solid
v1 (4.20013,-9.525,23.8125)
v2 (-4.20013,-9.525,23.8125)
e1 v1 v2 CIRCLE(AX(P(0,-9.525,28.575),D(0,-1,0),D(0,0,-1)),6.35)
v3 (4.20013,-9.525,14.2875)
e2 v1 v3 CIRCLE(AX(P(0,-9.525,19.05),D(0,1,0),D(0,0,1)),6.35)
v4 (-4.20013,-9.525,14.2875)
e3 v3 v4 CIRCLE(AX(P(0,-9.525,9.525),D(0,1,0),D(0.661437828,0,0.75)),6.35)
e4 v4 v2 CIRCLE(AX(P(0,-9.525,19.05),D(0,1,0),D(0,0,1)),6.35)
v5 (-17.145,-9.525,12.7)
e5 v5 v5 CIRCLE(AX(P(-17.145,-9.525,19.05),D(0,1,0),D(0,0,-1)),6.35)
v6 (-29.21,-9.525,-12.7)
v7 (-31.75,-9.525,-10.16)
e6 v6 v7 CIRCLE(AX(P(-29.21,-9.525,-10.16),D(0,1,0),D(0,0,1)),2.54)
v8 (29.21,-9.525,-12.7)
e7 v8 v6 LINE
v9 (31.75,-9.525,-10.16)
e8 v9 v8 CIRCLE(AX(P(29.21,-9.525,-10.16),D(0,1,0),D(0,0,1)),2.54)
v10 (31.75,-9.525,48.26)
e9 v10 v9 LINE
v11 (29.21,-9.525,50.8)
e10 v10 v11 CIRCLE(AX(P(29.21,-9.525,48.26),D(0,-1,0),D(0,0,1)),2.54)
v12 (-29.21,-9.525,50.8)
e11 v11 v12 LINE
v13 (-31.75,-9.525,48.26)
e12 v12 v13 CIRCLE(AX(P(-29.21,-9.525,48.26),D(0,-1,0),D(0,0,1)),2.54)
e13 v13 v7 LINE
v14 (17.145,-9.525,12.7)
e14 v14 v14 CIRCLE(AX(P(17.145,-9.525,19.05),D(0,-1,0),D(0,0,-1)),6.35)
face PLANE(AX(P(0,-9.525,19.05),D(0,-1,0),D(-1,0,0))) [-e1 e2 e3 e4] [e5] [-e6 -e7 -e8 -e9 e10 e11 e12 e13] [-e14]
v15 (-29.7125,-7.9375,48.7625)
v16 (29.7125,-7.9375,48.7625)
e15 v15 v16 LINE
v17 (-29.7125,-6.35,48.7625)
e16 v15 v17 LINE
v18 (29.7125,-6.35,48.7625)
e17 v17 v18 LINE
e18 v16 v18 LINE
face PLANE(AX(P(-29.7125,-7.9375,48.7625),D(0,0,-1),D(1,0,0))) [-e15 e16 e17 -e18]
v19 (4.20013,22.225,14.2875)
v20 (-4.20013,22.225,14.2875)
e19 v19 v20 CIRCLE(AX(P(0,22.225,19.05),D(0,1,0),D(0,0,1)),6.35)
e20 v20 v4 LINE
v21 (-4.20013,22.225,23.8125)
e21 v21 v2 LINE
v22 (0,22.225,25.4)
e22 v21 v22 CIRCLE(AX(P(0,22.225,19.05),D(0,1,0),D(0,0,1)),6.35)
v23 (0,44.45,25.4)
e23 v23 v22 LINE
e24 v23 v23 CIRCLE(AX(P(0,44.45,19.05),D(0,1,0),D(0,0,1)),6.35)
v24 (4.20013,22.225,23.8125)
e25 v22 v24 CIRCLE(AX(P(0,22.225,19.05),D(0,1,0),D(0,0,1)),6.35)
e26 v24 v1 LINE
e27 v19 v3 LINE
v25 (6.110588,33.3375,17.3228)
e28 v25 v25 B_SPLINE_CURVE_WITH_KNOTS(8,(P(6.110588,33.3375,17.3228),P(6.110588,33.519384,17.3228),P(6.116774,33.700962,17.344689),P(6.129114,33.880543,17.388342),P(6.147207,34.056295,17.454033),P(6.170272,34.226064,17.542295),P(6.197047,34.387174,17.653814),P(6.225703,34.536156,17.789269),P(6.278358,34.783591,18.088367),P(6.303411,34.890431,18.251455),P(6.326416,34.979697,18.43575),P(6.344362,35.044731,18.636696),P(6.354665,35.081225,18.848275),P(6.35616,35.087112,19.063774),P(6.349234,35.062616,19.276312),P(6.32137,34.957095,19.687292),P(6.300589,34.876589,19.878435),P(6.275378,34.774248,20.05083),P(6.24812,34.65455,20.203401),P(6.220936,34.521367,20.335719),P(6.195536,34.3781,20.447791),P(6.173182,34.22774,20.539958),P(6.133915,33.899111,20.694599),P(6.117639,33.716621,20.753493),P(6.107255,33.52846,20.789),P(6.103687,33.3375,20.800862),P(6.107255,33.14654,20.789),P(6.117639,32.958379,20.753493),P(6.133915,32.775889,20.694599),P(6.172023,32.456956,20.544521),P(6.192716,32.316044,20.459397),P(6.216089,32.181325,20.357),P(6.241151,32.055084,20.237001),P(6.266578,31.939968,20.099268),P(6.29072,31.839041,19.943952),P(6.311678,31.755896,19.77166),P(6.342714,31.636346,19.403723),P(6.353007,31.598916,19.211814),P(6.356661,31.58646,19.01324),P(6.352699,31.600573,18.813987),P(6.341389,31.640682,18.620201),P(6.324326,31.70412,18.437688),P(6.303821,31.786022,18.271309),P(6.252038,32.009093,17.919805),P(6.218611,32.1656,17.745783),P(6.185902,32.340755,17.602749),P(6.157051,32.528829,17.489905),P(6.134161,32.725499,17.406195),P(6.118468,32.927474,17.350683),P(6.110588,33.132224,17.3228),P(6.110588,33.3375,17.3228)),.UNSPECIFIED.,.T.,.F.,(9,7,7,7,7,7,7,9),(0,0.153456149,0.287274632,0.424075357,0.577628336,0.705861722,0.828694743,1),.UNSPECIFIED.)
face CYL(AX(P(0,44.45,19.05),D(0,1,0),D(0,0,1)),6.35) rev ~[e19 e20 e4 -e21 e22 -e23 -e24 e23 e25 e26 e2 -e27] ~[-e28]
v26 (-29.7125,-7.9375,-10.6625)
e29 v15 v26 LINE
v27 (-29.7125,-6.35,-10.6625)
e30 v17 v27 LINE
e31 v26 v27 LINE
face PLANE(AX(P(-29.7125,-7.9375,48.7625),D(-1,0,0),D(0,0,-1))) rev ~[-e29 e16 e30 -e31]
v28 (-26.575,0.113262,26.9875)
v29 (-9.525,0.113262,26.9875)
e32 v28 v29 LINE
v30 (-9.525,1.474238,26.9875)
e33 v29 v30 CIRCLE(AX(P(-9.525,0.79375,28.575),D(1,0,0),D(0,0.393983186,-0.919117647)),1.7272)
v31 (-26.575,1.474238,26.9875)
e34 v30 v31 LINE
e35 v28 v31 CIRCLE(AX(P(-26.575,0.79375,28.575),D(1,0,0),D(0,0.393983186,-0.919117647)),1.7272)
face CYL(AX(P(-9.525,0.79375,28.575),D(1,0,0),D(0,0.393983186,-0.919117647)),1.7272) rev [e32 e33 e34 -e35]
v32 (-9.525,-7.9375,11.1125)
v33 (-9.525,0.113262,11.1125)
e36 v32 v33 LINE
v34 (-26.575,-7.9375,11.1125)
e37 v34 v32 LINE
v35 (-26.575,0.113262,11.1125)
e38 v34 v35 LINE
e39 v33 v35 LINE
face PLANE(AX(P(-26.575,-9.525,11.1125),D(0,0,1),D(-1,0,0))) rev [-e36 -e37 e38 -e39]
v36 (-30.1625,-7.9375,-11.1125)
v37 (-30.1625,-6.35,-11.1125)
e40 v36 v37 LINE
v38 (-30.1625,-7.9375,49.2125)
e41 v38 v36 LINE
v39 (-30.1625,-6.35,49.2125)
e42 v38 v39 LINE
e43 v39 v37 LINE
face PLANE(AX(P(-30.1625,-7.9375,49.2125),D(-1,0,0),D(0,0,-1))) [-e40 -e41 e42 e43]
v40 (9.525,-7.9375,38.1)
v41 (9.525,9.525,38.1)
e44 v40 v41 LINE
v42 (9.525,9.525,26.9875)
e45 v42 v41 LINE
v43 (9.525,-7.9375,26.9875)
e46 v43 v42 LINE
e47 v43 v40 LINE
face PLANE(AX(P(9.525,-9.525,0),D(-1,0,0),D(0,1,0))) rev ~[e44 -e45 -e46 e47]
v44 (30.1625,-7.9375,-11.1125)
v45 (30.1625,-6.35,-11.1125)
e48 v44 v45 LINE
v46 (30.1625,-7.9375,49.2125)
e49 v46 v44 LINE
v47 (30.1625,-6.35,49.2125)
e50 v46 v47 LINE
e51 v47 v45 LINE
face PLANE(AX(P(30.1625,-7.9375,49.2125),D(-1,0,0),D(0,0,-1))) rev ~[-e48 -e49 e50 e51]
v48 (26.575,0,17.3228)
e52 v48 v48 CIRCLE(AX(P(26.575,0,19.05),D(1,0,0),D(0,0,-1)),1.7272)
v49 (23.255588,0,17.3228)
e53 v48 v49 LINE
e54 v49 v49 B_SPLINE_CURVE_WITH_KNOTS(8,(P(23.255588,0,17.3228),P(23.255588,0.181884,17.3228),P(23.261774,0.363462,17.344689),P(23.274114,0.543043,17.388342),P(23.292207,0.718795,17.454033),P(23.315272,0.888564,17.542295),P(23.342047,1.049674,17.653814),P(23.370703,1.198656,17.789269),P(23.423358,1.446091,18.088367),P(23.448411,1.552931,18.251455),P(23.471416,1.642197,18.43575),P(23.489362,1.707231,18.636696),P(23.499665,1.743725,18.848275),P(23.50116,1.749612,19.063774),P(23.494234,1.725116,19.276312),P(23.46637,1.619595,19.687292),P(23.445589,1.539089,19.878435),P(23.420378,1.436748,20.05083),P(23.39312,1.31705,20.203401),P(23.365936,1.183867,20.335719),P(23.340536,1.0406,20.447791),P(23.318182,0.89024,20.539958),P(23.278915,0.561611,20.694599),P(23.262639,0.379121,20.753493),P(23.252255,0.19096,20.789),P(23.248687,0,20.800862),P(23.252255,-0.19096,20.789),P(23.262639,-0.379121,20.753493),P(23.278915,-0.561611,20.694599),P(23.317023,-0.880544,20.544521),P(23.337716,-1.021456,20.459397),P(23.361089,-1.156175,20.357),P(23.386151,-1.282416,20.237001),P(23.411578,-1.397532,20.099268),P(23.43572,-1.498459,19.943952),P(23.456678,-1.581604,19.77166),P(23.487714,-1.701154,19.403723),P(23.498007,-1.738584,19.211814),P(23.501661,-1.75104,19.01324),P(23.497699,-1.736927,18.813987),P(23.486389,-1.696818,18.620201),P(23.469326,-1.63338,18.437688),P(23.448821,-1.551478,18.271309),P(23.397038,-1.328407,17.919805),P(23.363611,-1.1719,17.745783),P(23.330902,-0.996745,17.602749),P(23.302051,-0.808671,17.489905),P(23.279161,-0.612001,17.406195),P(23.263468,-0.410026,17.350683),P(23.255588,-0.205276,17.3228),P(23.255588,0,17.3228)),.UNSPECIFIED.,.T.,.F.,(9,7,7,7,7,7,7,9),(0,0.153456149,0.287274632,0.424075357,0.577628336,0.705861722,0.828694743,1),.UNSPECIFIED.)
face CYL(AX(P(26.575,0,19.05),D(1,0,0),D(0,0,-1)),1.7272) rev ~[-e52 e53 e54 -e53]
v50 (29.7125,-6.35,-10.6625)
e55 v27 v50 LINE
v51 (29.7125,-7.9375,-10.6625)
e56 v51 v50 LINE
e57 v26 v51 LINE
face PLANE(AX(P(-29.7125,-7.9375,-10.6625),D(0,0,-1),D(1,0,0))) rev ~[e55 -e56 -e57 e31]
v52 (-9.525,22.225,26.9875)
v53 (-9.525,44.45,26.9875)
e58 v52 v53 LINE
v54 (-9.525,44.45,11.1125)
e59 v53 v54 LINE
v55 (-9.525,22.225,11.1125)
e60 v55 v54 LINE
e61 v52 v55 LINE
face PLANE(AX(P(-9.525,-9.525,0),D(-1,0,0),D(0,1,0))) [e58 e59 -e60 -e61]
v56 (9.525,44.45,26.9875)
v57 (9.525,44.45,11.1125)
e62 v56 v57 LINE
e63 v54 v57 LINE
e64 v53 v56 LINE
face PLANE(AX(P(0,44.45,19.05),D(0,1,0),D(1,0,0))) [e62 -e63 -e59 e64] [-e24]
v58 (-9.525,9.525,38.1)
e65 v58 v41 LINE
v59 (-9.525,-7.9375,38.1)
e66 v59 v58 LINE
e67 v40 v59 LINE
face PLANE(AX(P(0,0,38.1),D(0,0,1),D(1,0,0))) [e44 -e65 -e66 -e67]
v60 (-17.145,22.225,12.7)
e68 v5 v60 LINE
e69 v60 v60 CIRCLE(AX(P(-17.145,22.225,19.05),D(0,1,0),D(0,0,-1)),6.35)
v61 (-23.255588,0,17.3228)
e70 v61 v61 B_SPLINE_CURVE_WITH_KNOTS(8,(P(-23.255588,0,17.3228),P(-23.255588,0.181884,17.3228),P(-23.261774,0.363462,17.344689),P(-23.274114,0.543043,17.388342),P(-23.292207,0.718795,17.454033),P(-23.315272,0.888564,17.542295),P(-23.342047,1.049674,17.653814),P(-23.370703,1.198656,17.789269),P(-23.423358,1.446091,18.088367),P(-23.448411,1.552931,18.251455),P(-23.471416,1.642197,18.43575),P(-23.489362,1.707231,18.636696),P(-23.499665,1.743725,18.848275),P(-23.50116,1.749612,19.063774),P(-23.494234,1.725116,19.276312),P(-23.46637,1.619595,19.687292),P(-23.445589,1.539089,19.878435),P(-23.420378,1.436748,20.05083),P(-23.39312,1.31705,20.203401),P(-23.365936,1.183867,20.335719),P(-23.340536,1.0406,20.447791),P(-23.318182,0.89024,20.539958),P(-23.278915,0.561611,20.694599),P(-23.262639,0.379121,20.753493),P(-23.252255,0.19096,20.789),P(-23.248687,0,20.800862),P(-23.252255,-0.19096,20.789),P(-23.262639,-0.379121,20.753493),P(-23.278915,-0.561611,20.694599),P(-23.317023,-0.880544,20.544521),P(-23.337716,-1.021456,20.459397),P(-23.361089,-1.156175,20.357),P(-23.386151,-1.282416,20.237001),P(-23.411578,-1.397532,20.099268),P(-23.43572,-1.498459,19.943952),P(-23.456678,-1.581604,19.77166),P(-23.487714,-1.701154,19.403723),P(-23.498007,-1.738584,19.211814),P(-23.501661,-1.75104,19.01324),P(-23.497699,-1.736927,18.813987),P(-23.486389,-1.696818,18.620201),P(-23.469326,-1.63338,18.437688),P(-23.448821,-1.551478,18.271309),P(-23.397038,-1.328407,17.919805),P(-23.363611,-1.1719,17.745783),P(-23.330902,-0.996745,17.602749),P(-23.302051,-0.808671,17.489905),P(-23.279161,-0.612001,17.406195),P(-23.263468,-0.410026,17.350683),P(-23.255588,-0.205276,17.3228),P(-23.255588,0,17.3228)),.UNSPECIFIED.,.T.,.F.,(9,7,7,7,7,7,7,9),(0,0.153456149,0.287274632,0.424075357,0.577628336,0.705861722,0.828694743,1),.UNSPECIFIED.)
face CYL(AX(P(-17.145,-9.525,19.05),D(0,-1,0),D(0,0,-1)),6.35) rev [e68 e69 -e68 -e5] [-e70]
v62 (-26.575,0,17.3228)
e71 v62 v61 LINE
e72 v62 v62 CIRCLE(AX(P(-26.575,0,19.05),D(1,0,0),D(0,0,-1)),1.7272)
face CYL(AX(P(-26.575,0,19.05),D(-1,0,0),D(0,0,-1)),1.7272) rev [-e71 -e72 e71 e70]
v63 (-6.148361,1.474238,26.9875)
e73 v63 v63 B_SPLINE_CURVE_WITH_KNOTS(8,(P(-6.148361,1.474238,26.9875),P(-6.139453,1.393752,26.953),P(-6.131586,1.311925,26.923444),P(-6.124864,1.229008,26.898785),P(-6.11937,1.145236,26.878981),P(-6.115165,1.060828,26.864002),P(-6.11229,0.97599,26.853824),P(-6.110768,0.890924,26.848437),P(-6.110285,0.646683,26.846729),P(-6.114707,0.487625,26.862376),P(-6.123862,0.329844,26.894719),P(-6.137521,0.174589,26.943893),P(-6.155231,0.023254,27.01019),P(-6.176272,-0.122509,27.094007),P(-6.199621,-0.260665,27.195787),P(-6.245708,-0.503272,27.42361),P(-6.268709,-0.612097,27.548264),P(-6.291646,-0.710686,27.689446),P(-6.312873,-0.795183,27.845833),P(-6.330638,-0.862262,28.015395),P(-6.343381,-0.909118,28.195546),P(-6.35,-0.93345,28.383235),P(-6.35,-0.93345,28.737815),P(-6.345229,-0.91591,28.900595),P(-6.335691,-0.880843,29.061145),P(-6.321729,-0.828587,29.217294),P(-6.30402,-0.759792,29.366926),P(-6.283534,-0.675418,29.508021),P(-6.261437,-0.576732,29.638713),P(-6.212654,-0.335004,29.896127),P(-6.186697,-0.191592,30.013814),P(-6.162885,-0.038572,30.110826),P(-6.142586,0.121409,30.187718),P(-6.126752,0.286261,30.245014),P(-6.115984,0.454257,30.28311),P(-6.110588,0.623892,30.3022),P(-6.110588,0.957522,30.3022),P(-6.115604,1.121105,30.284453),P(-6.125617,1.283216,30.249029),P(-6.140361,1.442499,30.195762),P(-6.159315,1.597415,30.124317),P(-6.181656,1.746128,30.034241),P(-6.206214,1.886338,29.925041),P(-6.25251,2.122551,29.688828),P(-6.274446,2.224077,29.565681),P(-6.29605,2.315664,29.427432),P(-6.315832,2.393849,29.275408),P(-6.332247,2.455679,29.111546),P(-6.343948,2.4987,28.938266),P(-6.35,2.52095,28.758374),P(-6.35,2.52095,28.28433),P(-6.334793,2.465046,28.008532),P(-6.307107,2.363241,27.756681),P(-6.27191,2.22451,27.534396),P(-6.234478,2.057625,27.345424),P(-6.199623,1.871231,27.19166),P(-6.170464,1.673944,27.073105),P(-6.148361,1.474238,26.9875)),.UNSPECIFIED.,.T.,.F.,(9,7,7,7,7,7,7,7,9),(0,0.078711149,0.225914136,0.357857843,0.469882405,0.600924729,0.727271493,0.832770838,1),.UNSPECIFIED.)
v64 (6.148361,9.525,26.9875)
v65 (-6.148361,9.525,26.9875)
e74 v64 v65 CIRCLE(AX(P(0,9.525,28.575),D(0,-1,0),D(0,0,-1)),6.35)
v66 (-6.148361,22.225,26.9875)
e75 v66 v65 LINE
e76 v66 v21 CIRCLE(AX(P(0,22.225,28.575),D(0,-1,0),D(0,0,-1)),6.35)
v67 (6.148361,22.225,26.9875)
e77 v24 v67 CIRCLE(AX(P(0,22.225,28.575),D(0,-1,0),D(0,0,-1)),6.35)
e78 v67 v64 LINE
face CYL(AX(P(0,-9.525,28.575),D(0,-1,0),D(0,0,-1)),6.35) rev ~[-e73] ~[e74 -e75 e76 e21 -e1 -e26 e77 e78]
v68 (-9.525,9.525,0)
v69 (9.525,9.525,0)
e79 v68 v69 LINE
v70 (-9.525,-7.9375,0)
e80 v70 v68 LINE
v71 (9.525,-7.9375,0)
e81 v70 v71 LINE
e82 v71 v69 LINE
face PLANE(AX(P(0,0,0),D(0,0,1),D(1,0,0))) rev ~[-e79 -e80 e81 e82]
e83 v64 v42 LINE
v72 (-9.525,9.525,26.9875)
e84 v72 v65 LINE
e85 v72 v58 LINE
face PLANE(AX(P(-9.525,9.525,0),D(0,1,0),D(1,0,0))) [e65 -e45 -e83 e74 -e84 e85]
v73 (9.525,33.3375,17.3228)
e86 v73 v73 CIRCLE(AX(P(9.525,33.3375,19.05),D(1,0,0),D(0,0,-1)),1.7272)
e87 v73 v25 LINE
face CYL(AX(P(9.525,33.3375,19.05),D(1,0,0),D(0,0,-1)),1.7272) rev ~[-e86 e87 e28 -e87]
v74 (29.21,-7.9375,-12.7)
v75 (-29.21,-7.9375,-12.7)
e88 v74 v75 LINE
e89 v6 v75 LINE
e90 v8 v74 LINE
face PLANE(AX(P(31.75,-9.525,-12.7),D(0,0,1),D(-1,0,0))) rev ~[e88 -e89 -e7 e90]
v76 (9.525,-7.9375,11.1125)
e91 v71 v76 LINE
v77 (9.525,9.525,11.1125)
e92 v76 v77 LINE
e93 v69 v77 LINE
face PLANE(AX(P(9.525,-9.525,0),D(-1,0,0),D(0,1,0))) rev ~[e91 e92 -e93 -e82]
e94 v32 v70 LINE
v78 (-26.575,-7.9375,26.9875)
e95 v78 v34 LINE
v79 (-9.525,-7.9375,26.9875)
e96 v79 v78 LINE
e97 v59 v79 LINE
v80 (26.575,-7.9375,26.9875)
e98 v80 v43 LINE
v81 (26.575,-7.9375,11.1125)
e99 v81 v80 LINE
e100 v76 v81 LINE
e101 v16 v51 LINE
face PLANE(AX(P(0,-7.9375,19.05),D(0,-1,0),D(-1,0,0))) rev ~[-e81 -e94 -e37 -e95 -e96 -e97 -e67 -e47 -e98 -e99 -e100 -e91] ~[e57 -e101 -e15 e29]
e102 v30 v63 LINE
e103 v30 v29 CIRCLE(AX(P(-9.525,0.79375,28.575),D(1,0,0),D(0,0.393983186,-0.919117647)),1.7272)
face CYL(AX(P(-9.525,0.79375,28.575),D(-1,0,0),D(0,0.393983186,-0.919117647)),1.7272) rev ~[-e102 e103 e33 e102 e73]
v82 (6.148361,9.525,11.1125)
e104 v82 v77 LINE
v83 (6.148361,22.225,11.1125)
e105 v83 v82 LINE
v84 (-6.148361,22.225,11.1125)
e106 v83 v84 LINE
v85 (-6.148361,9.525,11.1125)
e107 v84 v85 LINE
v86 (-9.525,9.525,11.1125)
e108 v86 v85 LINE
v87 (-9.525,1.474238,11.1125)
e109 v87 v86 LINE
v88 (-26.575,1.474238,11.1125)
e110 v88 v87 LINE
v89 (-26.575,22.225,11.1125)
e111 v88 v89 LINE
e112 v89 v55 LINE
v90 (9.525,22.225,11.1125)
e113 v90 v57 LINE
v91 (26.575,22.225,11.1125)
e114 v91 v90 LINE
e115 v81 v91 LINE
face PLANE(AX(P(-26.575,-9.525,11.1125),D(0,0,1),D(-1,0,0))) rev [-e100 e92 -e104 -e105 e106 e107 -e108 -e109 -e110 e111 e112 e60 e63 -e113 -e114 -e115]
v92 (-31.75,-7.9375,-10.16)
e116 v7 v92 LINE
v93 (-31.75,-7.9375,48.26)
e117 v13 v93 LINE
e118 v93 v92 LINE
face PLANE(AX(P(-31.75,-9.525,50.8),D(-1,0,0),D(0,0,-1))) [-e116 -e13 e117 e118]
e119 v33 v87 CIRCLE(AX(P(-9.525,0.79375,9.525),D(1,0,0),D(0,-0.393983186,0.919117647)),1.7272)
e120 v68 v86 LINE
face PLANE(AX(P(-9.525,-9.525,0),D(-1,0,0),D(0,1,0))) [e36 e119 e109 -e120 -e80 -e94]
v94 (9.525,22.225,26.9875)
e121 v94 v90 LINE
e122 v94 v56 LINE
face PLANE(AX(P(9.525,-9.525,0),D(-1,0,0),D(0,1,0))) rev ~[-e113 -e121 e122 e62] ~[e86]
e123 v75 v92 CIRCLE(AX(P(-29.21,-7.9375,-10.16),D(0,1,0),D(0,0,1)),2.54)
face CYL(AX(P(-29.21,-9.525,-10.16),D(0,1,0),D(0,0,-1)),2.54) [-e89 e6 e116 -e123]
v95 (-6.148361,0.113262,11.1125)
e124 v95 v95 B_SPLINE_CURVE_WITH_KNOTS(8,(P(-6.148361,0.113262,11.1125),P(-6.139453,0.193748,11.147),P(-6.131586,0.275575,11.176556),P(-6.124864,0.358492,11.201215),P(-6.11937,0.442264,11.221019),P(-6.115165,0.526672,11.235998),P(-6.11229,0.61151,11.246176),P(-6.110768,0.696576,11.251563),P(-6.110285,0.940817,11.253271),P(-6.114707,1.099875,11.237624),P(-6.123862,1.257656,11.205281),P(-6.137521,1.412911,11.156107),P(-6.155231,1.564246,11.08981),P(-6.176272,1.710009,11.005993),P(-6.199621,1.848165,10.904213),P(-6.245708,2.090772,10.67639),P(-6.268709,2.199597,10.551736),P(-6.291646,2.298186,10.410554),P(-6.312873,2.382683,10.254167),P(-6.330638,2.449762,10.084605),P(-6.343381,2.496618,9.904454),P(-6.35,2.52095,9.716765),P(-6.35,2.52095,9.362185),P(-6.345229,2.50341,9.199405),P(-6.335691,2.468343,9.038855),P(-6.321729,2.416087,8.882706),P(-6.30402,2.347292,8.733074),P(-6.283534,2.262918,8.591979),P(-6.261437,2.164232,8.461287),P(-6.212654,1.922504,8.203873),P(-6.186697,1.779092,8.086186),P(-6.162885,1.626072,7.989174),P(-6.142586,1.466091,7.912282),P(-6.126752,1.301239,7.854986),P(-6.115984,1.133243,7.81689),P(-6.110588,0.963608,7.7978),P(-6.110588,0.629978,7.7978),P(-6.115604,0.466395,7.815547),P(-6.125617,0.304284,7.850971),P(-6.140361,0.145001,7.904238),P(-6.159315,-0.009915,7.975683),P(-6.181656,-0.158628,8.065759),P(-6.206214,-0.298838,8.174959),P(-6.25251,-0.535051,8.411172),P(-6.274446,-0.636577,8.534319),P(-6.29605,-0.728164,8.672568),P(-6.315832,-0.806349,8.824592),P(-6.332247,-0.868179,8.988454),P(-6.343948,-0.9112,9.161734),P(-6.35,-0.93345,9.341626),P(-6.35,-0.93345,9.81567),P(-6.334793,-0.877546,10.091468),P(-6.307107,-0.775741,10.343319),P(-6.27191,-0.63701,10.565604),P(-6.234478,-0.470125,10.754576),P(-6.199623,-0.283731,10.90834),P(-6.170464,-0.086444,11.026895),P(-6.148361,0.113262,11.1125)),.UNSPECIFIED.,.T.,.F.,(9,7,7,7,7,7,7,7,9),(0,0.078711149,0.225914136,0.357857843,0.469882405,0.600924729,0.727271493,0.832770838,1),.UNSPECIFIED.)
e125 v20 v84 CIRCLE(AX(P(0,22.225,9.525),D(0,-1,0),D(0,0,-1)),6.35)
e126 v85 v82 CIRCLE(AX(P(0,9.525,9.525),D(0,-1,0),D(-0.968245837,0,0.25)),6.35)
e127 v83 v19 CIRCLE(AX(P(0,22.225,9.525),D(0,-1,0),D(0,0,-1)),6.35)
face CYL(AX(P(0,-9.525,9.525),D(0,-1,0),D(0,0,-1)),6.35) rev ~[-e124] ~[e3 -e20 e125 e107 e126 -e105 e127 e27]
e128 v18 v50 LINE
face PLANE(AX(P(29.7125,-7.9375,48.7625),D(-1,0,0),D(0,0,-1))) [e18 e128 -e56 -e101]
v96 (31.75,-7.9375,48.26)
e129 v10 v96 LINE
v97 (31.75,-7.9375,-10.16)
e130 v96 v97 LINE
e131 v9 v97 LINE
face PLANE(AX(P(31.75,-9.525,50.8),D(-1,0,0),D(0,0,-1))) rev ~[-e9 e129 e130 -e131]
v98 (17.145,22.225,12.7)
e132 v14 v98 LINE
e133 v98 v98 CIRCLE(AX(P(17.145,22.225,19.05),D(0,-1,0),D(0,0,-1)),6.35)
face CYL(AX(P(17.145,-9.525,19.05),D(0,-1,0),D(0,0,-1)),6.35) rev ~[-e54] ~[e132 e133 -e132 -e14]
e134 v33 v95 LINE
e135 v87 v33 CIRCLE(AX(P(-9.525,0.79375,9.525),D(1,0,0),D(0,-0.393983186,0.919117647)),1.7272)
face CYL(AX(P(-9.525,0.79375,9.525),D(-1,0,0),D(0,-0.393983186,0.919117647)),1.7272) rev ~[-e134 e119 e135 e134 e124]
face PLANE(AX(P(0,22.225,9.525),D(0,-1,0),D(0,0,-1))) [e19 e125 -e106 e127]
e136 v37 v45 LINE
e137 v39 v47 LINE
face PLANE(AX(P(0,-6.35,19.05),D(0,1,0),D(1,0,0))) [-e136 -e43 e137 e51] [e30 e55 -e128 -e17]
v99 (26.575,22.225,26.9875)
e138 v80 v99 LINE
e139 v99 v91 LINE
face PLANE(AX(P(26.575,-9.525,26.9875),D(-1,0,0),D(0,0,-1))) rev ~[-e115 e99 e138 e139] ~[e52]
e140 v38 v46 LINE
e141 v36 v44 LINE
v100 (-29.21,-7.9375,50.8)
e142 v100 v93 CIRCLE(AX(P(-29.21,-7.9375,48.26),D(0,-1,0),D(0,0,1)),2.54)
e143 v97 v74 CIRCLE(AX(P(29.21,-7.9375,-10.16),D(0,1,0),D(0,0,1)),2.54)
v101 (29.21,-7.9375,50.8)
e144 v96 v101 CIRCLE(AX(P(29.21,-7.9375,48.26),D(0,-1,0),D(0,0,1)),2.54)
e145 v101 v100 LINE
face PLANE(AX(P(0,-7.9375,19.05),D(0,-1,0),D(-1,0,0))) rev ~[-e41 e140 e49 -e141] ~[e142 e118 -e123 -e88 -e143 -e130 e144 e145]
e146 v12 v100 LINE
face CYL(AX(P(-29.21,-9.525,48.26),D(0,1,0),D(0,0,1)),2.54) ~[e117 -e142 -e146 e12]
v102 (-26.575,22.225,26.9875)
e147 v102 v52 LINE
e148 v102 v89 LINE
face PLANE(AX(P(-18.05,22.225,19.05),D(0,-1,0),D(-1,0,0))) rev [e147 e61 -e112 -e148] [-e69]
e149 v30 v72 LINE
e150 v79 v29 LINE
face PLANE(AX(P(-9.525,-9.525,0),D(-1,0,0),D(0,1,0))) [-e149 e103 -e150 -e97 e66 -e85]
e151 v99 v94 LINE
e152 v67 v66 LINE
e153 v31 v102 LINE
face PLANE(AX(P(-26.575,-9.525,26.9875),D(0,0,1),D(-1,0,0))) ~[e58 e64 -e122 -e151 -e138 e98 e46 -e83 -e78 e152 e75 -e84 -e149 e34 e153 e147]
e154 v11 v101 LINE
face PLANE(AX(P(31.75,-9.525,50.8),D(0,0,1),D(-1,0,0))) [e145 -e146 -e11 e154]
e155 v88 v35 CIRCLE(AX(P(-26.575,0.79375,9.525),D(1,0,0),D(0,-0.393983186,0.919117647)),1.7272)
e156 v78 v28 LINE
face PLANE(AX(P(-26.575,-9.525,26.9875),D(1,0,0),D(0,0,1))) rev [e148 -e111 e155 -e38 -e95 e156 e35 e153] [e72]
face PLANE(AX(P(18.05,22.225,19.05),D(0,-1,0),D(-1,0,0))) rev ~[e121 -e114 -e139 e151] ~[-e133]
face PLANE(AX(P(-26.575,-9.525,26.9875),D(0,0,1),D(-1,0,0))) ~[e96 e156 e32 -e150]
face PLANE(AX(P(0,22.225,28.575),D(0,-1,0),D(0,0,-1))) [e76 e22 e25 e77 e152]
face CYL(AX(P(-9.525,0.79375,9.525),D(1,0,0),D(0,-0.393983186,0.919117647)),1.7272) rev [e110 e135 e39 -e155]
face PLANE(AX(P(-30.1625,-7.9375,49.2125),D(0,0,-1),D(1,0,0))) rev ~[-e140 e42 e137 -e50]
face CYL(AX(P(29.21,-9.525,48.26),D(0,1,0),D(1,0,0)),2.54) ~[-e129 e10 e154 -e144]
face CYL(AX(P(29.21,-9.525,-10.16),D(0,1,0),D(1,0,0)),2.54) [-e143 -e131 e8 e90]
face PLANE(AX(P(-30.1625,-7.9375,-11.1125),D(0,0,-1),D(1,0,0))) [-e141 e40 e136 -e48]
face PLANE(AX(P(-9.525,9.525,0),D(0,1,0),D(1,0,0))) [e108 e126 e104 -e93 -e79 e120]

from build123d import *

# Parameters (mm, degrees)
SKETCH1_W                       = 19.05
SKETCH1_H                       = 19.05
BOSS_EXTRUDE1_DEPTH             = 38.1
SKETCH6_W                       = 19.05
SKETCH6_H                       = 15.875
BOSS_EXTRUDE3_DEPTH             = 34.925
SKETCH2_R                       = 6.35
CUT_EXTRUDE1_DEPTH              = 31.75
SKETCH8_R                       = 6.35
CUT_EXTRUDE4_DEPTH              = 67.750552432
SKETCH10_W                      = 17.05
SKETCH10_H                      = 15.875
BOSS_EXTRUDE4_DEPTH             = 31.75
SKETCH11_R                      = 6.35
CUT_EXTRUDE6_DEPTH              = 31.75
CUT_EXTRUDE7_REACH              = 70.78
CUT_EXTRUDE7_END_RADIUS         = 6.35
SKETCH12_R                      = 1.7272
SKETCH13_W                      = 63.5
SKETCH13_H                      = 63.5
BOSS_EXTRUDE5_DEPTH             = 1.5875
CUT_EXTRUDE9_REACH              = 81.121
CUT_EXTRUDE9_END_RADIUS         = 6.35
SKETCH15_R                      = 1.7272
SKETCH16_W                      = 60.325
SKETCH16_H                      = 60.325
SKETCH16_W_2                    = 59.425
SKETCH16_H_2                    = 59.425
BOSS_EXTRUDE6_DEPTH             = 1.5875
FILLET1_R                       = 2.54
CUT_EXTRUDE10_REACH             = 81.121
SKETCH18_R                      = 1.7272
CUT_EXTRUDE10_DIRECTION_2_DEPTH = 80.12059235


with BuildPart() as part:
    # Sketch1 → Boss-Extrude1 (new body)
    with BuildSketch(Plane.XY):
        Rectangle(SKETCH1_W, SKETCH1_H)
    extrude(amount=BOSS_EXTRUDE1_DEPTH)

    # Sketch6 → Boss-Extrude3 (add)
    with BuildSketch(Plane(origin=(0, 9.525, 0), x_dir=(1, 0, 0), z_dir=(0, 1, 0))):
        with Locations((0, -19.05)):
            Rectangle(SKETCH6_W, SKETCH6_H)
    extrude(amount=BOSS_EXTRUDE3_DEPTH)

    # Sketch2 → Cut-Extrude1 (cut)
    with BuildSketch(Plane(origin=(0, -9.525, 0), x_dir=(-1, 0, 0), z_dir=(0, -1, 0))):
        with Locations(Location((0, -28.575, 0), (0, 0, 90))):
            Circle(SKETCH2_R)
        with Locations(Location((0, -9.525, 0), (0, 0, 90))):
            Circle(SKETCH2_R)
    extrude(amount=-CUT_EXTRUDE1_DEPTH, mode=Mode.SUBTRACT)

    # Sketch8 → Cut-Extrude4 (cut, through all)
    with BuildSketch(Plane(origin=(0, 44.45, 0), x_dir=(1, 0, 0), z_dir=(0, 1, 0))):
        with Locations(Location((0, -19.05, 0), (0, 0, 270))):
            Circle(SKETCH8_R)
    extrude(amount=-CUT_EXTRUDE4_DEPTH, mode=Mode.SUBTRACT)

    # Sketch10 → Boss-Extrude4 (add)
    with BuildSketch(Plane(origin=(0, -9.525, 0), x_dir=(-1, 0, 0), z_dir=(0, -1, 0))):
        with Locations((-18.05, -19.05)):
            Rectangle(SKETCH10_W, SKETCH10_H)
    boss_extrude4 = extrude(amount=-BOSS_EXTRUDE4_DEPTH)

    # Sketch11 → Cut-Extrude6 (cut)
    with BuildSketch(Plane(origin=(0, -9.525, 0), x_dir=(-1, 0, 0), z_dir=(0, -1, 0))):
        with Locations(Location((-17.145, -19.05, 0), (0, 0, 90))):
            Circle(SKETCH11_R)
    cut_extrude6 = extrude(amount=-CUT_EXTRUDE6_DEPTH, mode=Mode.SUBTRACT)

    # Cut-Extrude7: up to this cylinder (the profile starts outside it)
    cut_extrude7_end = Plane(origin=(17.145, 0, 19.05), z_dir=(0, -1, 0)) * Cylinder(CUT_EXTRUDE7_END_RADIUS, 155.26, mode=Mode.PRIVATE)
    # Sketch12 → Cut-Extrude7 (cut, up to the surface)
    with BuildSketch(Plane(origin=(26.575, 0, 0), x_dir=(0, 0, -1), z_dir=(1, 0, 0)), mode=Mode.PRIVATE) as cut_extrude7_sk1:
        with Locations((-19.05, 0)):
            Circle(SKETCH12_R)
    cut_extrude7_tool1 = extrude(cut_extrude7_sk1.sketch, amount=-CUT_EXTRUDE7_REACH, mode=Mode.PRIVATE) - cut_extrude7_end
    cut_extrude7 = cut_extrude7_tool1.solids().sort_by_distance((26.575, 0, 19.05))[0]
    add(cut_extrude7, mode=Mode.SUBTRACT)

    # Mirror1: Boss-Extrude4, Cut-Extrude6, Cut-Extrude7 across plane
    add(boss_extrude4.mirror(Plane(origin=(0, 0, 0), x_dir=(0, 0, 1), z_dir=(1, 0, 0))))
    add(cut_extrude6.mirror(Plane(origin=(0, 0, 0), x_dir=(0, 0, 1), z_dir=(1, 0, 0))), mode=Mode.SUBTRACT)
    add(cut_extrude7.mirror(Plane(origin=(0, 0, 0), x_dir=(0, 0, 1), z_dir=(1, 0, 0))), mode=Mode.SUBTRACT)

    # Sketch13 → Boss-Extrude5 (add)
    with BuildSketch(Plane(origin=(0, -9.525, 0), x_dir=(-1, 0, 0), z_dir=(0, -1, 0))):
        with Locations((0, -19.05)):
            Rectangle(SKETCH13_W, SKETCH13_H)
        Polygon((9.525, -26.9875), (26.575, -26.9875), (26.575, -11.1125), (9.525, -11.1125), (9.525, 0), (-9.525, 0), (-9.525, -11.1125), (-26.575, -11.1125), (-26.575, -26.9875), (-9.525, -26.9875), (-9.525, -38.1), (9.525, -38.1), align=None, mode=Mode.SUBTRACT)
    extrude(amount=-BOSS_EXTRUDE5_DEPTH)

    # Cut-Extrude9: up to this cylinder (the profile starts outside it)
    cut_extrude9_end = Plane(origin=(0, 33.3375, 19.05), z_dir=(0, 1, 0)) * Cylinder(CUT_EXTRUDE9_END_RADIUS, 175.942, mode=Mode.PRIVATE)
    # Sketch15 → Cut-Extrude9 (cut, up to the surface)
    with BuildSketch(Plane(origin=(9.525, 0, 0), x_dir=(0, 0, -1), z_dir=(1, 0, 0)), mode=Mode.PRIVATE) as cut_extrude9_sk1:
        with Locations((-19.05, 33.3375)):
            Circle(SKETCH15_R)
    cut_extrude9_tool1 = extrude(cut_extrude9_sk1.sketch, amount=-CUT_EXTRUDE9_REACH, mode=Mode.PRIVATE) - cut_extrude9_end
    add(cut_extrude9_tool1.solids().sort_by_distance((9.525, 33.3375, 19.05))[0], mode=Mode.SUBTRACT)

    # Sketch16 → Boss-Extrude6 (add)
    with BuildSketch(Plane(origin=(0, -7.9375, 0), x_dir=(1, 0, 0), z_dir=(0, 1, 0))):
        with Locations((0, -19.05)):
            Rectangle(SKETCH16_W, SKETCH16_H)
        with Locations((0, -19.05)):
            Rectangle(SKETCH16_W_2, SKETCH16_H_2, mode=Mode.SUBTRACT)
    extrude(amount=BOSS_EXTRUDE6_DEPTH)

    # Fillet1
    fillet1_edges = [part.edges().sort_by_distance(p)[0] for p in [
        (31.75, -8.73125, 50.8),
        (31.75, -8.73125, -12.7),
        (-31.75, -8.73125, -12.7),
        (-31.75, -8.73125, 50.8),
    ]]
    fillet(fillet1_edges, radius=FILLET1_R)

    # Sketch18 → Cut-Extrude10 (cut, up to next)
    with BuildSketch(Plane.ZY.offset(9.525), mode=Mode.PRIVATE) as cut_extrude10_sk1:
        with Locations(Location((28.575, 0.79375, 0), (0, 0, 156.797426943))):
            Circle(SKETCH18_R)
    cut_extrude10_tool1 = extrude(cut_extrude10_sk1.sketch, amount=-CUT_EXTRUDE10_REACH, mode=Mode.PRIVATE) & part.part
    # Sketch18 → Cut-Extrude10 (cut, up to next)
    with BuildSketch(Plane.ZY.offset(9.525), mode=Mode.PRIVATE) as cut_extrude10_sk2:
        with Locations(Location((9.525, 0.79375, 0), (0, 0, 336.797426943))):
            Circle(SKETCH18_R)
    cut_extrude10_tool2 = extrude(cut_extrude10_sk2.sketch, amount=-CUT_EXTRUDE10_REACH, mode=Mode.PRIVATE) & part.part
    add(cut_extrude10_tool1.solids().sort_by_distance((-9.525, 0.79375, 28.575))[0], mode=Mode.SUBTRACT)
    add(cut_extrude10_tool2.solids().sort_by_distance((-9.525, 0.79375, 9.525))[0], mode=Mode.SUBTRACT)

    # Sketch18 → Cut-Extrude10 direction 2 (cut)
    with BuildSketch(Plane.ZY.offset(9.525)):
        with Locations(Location((28.575, 0.79375, 0), (0, 0, 156.797426943))):
            Circle(SKETCH18_R)
        with Locations(Location((9.525, 0.79375, 0), (0, 0, 336.797426943))):
            Circle(SKETCH18_R)
    extrude(amount=CUT_EXTRUDE10_DIRECTION_2_DEPTH, mode=Mode.SUBTRACT)


solid = part.part
